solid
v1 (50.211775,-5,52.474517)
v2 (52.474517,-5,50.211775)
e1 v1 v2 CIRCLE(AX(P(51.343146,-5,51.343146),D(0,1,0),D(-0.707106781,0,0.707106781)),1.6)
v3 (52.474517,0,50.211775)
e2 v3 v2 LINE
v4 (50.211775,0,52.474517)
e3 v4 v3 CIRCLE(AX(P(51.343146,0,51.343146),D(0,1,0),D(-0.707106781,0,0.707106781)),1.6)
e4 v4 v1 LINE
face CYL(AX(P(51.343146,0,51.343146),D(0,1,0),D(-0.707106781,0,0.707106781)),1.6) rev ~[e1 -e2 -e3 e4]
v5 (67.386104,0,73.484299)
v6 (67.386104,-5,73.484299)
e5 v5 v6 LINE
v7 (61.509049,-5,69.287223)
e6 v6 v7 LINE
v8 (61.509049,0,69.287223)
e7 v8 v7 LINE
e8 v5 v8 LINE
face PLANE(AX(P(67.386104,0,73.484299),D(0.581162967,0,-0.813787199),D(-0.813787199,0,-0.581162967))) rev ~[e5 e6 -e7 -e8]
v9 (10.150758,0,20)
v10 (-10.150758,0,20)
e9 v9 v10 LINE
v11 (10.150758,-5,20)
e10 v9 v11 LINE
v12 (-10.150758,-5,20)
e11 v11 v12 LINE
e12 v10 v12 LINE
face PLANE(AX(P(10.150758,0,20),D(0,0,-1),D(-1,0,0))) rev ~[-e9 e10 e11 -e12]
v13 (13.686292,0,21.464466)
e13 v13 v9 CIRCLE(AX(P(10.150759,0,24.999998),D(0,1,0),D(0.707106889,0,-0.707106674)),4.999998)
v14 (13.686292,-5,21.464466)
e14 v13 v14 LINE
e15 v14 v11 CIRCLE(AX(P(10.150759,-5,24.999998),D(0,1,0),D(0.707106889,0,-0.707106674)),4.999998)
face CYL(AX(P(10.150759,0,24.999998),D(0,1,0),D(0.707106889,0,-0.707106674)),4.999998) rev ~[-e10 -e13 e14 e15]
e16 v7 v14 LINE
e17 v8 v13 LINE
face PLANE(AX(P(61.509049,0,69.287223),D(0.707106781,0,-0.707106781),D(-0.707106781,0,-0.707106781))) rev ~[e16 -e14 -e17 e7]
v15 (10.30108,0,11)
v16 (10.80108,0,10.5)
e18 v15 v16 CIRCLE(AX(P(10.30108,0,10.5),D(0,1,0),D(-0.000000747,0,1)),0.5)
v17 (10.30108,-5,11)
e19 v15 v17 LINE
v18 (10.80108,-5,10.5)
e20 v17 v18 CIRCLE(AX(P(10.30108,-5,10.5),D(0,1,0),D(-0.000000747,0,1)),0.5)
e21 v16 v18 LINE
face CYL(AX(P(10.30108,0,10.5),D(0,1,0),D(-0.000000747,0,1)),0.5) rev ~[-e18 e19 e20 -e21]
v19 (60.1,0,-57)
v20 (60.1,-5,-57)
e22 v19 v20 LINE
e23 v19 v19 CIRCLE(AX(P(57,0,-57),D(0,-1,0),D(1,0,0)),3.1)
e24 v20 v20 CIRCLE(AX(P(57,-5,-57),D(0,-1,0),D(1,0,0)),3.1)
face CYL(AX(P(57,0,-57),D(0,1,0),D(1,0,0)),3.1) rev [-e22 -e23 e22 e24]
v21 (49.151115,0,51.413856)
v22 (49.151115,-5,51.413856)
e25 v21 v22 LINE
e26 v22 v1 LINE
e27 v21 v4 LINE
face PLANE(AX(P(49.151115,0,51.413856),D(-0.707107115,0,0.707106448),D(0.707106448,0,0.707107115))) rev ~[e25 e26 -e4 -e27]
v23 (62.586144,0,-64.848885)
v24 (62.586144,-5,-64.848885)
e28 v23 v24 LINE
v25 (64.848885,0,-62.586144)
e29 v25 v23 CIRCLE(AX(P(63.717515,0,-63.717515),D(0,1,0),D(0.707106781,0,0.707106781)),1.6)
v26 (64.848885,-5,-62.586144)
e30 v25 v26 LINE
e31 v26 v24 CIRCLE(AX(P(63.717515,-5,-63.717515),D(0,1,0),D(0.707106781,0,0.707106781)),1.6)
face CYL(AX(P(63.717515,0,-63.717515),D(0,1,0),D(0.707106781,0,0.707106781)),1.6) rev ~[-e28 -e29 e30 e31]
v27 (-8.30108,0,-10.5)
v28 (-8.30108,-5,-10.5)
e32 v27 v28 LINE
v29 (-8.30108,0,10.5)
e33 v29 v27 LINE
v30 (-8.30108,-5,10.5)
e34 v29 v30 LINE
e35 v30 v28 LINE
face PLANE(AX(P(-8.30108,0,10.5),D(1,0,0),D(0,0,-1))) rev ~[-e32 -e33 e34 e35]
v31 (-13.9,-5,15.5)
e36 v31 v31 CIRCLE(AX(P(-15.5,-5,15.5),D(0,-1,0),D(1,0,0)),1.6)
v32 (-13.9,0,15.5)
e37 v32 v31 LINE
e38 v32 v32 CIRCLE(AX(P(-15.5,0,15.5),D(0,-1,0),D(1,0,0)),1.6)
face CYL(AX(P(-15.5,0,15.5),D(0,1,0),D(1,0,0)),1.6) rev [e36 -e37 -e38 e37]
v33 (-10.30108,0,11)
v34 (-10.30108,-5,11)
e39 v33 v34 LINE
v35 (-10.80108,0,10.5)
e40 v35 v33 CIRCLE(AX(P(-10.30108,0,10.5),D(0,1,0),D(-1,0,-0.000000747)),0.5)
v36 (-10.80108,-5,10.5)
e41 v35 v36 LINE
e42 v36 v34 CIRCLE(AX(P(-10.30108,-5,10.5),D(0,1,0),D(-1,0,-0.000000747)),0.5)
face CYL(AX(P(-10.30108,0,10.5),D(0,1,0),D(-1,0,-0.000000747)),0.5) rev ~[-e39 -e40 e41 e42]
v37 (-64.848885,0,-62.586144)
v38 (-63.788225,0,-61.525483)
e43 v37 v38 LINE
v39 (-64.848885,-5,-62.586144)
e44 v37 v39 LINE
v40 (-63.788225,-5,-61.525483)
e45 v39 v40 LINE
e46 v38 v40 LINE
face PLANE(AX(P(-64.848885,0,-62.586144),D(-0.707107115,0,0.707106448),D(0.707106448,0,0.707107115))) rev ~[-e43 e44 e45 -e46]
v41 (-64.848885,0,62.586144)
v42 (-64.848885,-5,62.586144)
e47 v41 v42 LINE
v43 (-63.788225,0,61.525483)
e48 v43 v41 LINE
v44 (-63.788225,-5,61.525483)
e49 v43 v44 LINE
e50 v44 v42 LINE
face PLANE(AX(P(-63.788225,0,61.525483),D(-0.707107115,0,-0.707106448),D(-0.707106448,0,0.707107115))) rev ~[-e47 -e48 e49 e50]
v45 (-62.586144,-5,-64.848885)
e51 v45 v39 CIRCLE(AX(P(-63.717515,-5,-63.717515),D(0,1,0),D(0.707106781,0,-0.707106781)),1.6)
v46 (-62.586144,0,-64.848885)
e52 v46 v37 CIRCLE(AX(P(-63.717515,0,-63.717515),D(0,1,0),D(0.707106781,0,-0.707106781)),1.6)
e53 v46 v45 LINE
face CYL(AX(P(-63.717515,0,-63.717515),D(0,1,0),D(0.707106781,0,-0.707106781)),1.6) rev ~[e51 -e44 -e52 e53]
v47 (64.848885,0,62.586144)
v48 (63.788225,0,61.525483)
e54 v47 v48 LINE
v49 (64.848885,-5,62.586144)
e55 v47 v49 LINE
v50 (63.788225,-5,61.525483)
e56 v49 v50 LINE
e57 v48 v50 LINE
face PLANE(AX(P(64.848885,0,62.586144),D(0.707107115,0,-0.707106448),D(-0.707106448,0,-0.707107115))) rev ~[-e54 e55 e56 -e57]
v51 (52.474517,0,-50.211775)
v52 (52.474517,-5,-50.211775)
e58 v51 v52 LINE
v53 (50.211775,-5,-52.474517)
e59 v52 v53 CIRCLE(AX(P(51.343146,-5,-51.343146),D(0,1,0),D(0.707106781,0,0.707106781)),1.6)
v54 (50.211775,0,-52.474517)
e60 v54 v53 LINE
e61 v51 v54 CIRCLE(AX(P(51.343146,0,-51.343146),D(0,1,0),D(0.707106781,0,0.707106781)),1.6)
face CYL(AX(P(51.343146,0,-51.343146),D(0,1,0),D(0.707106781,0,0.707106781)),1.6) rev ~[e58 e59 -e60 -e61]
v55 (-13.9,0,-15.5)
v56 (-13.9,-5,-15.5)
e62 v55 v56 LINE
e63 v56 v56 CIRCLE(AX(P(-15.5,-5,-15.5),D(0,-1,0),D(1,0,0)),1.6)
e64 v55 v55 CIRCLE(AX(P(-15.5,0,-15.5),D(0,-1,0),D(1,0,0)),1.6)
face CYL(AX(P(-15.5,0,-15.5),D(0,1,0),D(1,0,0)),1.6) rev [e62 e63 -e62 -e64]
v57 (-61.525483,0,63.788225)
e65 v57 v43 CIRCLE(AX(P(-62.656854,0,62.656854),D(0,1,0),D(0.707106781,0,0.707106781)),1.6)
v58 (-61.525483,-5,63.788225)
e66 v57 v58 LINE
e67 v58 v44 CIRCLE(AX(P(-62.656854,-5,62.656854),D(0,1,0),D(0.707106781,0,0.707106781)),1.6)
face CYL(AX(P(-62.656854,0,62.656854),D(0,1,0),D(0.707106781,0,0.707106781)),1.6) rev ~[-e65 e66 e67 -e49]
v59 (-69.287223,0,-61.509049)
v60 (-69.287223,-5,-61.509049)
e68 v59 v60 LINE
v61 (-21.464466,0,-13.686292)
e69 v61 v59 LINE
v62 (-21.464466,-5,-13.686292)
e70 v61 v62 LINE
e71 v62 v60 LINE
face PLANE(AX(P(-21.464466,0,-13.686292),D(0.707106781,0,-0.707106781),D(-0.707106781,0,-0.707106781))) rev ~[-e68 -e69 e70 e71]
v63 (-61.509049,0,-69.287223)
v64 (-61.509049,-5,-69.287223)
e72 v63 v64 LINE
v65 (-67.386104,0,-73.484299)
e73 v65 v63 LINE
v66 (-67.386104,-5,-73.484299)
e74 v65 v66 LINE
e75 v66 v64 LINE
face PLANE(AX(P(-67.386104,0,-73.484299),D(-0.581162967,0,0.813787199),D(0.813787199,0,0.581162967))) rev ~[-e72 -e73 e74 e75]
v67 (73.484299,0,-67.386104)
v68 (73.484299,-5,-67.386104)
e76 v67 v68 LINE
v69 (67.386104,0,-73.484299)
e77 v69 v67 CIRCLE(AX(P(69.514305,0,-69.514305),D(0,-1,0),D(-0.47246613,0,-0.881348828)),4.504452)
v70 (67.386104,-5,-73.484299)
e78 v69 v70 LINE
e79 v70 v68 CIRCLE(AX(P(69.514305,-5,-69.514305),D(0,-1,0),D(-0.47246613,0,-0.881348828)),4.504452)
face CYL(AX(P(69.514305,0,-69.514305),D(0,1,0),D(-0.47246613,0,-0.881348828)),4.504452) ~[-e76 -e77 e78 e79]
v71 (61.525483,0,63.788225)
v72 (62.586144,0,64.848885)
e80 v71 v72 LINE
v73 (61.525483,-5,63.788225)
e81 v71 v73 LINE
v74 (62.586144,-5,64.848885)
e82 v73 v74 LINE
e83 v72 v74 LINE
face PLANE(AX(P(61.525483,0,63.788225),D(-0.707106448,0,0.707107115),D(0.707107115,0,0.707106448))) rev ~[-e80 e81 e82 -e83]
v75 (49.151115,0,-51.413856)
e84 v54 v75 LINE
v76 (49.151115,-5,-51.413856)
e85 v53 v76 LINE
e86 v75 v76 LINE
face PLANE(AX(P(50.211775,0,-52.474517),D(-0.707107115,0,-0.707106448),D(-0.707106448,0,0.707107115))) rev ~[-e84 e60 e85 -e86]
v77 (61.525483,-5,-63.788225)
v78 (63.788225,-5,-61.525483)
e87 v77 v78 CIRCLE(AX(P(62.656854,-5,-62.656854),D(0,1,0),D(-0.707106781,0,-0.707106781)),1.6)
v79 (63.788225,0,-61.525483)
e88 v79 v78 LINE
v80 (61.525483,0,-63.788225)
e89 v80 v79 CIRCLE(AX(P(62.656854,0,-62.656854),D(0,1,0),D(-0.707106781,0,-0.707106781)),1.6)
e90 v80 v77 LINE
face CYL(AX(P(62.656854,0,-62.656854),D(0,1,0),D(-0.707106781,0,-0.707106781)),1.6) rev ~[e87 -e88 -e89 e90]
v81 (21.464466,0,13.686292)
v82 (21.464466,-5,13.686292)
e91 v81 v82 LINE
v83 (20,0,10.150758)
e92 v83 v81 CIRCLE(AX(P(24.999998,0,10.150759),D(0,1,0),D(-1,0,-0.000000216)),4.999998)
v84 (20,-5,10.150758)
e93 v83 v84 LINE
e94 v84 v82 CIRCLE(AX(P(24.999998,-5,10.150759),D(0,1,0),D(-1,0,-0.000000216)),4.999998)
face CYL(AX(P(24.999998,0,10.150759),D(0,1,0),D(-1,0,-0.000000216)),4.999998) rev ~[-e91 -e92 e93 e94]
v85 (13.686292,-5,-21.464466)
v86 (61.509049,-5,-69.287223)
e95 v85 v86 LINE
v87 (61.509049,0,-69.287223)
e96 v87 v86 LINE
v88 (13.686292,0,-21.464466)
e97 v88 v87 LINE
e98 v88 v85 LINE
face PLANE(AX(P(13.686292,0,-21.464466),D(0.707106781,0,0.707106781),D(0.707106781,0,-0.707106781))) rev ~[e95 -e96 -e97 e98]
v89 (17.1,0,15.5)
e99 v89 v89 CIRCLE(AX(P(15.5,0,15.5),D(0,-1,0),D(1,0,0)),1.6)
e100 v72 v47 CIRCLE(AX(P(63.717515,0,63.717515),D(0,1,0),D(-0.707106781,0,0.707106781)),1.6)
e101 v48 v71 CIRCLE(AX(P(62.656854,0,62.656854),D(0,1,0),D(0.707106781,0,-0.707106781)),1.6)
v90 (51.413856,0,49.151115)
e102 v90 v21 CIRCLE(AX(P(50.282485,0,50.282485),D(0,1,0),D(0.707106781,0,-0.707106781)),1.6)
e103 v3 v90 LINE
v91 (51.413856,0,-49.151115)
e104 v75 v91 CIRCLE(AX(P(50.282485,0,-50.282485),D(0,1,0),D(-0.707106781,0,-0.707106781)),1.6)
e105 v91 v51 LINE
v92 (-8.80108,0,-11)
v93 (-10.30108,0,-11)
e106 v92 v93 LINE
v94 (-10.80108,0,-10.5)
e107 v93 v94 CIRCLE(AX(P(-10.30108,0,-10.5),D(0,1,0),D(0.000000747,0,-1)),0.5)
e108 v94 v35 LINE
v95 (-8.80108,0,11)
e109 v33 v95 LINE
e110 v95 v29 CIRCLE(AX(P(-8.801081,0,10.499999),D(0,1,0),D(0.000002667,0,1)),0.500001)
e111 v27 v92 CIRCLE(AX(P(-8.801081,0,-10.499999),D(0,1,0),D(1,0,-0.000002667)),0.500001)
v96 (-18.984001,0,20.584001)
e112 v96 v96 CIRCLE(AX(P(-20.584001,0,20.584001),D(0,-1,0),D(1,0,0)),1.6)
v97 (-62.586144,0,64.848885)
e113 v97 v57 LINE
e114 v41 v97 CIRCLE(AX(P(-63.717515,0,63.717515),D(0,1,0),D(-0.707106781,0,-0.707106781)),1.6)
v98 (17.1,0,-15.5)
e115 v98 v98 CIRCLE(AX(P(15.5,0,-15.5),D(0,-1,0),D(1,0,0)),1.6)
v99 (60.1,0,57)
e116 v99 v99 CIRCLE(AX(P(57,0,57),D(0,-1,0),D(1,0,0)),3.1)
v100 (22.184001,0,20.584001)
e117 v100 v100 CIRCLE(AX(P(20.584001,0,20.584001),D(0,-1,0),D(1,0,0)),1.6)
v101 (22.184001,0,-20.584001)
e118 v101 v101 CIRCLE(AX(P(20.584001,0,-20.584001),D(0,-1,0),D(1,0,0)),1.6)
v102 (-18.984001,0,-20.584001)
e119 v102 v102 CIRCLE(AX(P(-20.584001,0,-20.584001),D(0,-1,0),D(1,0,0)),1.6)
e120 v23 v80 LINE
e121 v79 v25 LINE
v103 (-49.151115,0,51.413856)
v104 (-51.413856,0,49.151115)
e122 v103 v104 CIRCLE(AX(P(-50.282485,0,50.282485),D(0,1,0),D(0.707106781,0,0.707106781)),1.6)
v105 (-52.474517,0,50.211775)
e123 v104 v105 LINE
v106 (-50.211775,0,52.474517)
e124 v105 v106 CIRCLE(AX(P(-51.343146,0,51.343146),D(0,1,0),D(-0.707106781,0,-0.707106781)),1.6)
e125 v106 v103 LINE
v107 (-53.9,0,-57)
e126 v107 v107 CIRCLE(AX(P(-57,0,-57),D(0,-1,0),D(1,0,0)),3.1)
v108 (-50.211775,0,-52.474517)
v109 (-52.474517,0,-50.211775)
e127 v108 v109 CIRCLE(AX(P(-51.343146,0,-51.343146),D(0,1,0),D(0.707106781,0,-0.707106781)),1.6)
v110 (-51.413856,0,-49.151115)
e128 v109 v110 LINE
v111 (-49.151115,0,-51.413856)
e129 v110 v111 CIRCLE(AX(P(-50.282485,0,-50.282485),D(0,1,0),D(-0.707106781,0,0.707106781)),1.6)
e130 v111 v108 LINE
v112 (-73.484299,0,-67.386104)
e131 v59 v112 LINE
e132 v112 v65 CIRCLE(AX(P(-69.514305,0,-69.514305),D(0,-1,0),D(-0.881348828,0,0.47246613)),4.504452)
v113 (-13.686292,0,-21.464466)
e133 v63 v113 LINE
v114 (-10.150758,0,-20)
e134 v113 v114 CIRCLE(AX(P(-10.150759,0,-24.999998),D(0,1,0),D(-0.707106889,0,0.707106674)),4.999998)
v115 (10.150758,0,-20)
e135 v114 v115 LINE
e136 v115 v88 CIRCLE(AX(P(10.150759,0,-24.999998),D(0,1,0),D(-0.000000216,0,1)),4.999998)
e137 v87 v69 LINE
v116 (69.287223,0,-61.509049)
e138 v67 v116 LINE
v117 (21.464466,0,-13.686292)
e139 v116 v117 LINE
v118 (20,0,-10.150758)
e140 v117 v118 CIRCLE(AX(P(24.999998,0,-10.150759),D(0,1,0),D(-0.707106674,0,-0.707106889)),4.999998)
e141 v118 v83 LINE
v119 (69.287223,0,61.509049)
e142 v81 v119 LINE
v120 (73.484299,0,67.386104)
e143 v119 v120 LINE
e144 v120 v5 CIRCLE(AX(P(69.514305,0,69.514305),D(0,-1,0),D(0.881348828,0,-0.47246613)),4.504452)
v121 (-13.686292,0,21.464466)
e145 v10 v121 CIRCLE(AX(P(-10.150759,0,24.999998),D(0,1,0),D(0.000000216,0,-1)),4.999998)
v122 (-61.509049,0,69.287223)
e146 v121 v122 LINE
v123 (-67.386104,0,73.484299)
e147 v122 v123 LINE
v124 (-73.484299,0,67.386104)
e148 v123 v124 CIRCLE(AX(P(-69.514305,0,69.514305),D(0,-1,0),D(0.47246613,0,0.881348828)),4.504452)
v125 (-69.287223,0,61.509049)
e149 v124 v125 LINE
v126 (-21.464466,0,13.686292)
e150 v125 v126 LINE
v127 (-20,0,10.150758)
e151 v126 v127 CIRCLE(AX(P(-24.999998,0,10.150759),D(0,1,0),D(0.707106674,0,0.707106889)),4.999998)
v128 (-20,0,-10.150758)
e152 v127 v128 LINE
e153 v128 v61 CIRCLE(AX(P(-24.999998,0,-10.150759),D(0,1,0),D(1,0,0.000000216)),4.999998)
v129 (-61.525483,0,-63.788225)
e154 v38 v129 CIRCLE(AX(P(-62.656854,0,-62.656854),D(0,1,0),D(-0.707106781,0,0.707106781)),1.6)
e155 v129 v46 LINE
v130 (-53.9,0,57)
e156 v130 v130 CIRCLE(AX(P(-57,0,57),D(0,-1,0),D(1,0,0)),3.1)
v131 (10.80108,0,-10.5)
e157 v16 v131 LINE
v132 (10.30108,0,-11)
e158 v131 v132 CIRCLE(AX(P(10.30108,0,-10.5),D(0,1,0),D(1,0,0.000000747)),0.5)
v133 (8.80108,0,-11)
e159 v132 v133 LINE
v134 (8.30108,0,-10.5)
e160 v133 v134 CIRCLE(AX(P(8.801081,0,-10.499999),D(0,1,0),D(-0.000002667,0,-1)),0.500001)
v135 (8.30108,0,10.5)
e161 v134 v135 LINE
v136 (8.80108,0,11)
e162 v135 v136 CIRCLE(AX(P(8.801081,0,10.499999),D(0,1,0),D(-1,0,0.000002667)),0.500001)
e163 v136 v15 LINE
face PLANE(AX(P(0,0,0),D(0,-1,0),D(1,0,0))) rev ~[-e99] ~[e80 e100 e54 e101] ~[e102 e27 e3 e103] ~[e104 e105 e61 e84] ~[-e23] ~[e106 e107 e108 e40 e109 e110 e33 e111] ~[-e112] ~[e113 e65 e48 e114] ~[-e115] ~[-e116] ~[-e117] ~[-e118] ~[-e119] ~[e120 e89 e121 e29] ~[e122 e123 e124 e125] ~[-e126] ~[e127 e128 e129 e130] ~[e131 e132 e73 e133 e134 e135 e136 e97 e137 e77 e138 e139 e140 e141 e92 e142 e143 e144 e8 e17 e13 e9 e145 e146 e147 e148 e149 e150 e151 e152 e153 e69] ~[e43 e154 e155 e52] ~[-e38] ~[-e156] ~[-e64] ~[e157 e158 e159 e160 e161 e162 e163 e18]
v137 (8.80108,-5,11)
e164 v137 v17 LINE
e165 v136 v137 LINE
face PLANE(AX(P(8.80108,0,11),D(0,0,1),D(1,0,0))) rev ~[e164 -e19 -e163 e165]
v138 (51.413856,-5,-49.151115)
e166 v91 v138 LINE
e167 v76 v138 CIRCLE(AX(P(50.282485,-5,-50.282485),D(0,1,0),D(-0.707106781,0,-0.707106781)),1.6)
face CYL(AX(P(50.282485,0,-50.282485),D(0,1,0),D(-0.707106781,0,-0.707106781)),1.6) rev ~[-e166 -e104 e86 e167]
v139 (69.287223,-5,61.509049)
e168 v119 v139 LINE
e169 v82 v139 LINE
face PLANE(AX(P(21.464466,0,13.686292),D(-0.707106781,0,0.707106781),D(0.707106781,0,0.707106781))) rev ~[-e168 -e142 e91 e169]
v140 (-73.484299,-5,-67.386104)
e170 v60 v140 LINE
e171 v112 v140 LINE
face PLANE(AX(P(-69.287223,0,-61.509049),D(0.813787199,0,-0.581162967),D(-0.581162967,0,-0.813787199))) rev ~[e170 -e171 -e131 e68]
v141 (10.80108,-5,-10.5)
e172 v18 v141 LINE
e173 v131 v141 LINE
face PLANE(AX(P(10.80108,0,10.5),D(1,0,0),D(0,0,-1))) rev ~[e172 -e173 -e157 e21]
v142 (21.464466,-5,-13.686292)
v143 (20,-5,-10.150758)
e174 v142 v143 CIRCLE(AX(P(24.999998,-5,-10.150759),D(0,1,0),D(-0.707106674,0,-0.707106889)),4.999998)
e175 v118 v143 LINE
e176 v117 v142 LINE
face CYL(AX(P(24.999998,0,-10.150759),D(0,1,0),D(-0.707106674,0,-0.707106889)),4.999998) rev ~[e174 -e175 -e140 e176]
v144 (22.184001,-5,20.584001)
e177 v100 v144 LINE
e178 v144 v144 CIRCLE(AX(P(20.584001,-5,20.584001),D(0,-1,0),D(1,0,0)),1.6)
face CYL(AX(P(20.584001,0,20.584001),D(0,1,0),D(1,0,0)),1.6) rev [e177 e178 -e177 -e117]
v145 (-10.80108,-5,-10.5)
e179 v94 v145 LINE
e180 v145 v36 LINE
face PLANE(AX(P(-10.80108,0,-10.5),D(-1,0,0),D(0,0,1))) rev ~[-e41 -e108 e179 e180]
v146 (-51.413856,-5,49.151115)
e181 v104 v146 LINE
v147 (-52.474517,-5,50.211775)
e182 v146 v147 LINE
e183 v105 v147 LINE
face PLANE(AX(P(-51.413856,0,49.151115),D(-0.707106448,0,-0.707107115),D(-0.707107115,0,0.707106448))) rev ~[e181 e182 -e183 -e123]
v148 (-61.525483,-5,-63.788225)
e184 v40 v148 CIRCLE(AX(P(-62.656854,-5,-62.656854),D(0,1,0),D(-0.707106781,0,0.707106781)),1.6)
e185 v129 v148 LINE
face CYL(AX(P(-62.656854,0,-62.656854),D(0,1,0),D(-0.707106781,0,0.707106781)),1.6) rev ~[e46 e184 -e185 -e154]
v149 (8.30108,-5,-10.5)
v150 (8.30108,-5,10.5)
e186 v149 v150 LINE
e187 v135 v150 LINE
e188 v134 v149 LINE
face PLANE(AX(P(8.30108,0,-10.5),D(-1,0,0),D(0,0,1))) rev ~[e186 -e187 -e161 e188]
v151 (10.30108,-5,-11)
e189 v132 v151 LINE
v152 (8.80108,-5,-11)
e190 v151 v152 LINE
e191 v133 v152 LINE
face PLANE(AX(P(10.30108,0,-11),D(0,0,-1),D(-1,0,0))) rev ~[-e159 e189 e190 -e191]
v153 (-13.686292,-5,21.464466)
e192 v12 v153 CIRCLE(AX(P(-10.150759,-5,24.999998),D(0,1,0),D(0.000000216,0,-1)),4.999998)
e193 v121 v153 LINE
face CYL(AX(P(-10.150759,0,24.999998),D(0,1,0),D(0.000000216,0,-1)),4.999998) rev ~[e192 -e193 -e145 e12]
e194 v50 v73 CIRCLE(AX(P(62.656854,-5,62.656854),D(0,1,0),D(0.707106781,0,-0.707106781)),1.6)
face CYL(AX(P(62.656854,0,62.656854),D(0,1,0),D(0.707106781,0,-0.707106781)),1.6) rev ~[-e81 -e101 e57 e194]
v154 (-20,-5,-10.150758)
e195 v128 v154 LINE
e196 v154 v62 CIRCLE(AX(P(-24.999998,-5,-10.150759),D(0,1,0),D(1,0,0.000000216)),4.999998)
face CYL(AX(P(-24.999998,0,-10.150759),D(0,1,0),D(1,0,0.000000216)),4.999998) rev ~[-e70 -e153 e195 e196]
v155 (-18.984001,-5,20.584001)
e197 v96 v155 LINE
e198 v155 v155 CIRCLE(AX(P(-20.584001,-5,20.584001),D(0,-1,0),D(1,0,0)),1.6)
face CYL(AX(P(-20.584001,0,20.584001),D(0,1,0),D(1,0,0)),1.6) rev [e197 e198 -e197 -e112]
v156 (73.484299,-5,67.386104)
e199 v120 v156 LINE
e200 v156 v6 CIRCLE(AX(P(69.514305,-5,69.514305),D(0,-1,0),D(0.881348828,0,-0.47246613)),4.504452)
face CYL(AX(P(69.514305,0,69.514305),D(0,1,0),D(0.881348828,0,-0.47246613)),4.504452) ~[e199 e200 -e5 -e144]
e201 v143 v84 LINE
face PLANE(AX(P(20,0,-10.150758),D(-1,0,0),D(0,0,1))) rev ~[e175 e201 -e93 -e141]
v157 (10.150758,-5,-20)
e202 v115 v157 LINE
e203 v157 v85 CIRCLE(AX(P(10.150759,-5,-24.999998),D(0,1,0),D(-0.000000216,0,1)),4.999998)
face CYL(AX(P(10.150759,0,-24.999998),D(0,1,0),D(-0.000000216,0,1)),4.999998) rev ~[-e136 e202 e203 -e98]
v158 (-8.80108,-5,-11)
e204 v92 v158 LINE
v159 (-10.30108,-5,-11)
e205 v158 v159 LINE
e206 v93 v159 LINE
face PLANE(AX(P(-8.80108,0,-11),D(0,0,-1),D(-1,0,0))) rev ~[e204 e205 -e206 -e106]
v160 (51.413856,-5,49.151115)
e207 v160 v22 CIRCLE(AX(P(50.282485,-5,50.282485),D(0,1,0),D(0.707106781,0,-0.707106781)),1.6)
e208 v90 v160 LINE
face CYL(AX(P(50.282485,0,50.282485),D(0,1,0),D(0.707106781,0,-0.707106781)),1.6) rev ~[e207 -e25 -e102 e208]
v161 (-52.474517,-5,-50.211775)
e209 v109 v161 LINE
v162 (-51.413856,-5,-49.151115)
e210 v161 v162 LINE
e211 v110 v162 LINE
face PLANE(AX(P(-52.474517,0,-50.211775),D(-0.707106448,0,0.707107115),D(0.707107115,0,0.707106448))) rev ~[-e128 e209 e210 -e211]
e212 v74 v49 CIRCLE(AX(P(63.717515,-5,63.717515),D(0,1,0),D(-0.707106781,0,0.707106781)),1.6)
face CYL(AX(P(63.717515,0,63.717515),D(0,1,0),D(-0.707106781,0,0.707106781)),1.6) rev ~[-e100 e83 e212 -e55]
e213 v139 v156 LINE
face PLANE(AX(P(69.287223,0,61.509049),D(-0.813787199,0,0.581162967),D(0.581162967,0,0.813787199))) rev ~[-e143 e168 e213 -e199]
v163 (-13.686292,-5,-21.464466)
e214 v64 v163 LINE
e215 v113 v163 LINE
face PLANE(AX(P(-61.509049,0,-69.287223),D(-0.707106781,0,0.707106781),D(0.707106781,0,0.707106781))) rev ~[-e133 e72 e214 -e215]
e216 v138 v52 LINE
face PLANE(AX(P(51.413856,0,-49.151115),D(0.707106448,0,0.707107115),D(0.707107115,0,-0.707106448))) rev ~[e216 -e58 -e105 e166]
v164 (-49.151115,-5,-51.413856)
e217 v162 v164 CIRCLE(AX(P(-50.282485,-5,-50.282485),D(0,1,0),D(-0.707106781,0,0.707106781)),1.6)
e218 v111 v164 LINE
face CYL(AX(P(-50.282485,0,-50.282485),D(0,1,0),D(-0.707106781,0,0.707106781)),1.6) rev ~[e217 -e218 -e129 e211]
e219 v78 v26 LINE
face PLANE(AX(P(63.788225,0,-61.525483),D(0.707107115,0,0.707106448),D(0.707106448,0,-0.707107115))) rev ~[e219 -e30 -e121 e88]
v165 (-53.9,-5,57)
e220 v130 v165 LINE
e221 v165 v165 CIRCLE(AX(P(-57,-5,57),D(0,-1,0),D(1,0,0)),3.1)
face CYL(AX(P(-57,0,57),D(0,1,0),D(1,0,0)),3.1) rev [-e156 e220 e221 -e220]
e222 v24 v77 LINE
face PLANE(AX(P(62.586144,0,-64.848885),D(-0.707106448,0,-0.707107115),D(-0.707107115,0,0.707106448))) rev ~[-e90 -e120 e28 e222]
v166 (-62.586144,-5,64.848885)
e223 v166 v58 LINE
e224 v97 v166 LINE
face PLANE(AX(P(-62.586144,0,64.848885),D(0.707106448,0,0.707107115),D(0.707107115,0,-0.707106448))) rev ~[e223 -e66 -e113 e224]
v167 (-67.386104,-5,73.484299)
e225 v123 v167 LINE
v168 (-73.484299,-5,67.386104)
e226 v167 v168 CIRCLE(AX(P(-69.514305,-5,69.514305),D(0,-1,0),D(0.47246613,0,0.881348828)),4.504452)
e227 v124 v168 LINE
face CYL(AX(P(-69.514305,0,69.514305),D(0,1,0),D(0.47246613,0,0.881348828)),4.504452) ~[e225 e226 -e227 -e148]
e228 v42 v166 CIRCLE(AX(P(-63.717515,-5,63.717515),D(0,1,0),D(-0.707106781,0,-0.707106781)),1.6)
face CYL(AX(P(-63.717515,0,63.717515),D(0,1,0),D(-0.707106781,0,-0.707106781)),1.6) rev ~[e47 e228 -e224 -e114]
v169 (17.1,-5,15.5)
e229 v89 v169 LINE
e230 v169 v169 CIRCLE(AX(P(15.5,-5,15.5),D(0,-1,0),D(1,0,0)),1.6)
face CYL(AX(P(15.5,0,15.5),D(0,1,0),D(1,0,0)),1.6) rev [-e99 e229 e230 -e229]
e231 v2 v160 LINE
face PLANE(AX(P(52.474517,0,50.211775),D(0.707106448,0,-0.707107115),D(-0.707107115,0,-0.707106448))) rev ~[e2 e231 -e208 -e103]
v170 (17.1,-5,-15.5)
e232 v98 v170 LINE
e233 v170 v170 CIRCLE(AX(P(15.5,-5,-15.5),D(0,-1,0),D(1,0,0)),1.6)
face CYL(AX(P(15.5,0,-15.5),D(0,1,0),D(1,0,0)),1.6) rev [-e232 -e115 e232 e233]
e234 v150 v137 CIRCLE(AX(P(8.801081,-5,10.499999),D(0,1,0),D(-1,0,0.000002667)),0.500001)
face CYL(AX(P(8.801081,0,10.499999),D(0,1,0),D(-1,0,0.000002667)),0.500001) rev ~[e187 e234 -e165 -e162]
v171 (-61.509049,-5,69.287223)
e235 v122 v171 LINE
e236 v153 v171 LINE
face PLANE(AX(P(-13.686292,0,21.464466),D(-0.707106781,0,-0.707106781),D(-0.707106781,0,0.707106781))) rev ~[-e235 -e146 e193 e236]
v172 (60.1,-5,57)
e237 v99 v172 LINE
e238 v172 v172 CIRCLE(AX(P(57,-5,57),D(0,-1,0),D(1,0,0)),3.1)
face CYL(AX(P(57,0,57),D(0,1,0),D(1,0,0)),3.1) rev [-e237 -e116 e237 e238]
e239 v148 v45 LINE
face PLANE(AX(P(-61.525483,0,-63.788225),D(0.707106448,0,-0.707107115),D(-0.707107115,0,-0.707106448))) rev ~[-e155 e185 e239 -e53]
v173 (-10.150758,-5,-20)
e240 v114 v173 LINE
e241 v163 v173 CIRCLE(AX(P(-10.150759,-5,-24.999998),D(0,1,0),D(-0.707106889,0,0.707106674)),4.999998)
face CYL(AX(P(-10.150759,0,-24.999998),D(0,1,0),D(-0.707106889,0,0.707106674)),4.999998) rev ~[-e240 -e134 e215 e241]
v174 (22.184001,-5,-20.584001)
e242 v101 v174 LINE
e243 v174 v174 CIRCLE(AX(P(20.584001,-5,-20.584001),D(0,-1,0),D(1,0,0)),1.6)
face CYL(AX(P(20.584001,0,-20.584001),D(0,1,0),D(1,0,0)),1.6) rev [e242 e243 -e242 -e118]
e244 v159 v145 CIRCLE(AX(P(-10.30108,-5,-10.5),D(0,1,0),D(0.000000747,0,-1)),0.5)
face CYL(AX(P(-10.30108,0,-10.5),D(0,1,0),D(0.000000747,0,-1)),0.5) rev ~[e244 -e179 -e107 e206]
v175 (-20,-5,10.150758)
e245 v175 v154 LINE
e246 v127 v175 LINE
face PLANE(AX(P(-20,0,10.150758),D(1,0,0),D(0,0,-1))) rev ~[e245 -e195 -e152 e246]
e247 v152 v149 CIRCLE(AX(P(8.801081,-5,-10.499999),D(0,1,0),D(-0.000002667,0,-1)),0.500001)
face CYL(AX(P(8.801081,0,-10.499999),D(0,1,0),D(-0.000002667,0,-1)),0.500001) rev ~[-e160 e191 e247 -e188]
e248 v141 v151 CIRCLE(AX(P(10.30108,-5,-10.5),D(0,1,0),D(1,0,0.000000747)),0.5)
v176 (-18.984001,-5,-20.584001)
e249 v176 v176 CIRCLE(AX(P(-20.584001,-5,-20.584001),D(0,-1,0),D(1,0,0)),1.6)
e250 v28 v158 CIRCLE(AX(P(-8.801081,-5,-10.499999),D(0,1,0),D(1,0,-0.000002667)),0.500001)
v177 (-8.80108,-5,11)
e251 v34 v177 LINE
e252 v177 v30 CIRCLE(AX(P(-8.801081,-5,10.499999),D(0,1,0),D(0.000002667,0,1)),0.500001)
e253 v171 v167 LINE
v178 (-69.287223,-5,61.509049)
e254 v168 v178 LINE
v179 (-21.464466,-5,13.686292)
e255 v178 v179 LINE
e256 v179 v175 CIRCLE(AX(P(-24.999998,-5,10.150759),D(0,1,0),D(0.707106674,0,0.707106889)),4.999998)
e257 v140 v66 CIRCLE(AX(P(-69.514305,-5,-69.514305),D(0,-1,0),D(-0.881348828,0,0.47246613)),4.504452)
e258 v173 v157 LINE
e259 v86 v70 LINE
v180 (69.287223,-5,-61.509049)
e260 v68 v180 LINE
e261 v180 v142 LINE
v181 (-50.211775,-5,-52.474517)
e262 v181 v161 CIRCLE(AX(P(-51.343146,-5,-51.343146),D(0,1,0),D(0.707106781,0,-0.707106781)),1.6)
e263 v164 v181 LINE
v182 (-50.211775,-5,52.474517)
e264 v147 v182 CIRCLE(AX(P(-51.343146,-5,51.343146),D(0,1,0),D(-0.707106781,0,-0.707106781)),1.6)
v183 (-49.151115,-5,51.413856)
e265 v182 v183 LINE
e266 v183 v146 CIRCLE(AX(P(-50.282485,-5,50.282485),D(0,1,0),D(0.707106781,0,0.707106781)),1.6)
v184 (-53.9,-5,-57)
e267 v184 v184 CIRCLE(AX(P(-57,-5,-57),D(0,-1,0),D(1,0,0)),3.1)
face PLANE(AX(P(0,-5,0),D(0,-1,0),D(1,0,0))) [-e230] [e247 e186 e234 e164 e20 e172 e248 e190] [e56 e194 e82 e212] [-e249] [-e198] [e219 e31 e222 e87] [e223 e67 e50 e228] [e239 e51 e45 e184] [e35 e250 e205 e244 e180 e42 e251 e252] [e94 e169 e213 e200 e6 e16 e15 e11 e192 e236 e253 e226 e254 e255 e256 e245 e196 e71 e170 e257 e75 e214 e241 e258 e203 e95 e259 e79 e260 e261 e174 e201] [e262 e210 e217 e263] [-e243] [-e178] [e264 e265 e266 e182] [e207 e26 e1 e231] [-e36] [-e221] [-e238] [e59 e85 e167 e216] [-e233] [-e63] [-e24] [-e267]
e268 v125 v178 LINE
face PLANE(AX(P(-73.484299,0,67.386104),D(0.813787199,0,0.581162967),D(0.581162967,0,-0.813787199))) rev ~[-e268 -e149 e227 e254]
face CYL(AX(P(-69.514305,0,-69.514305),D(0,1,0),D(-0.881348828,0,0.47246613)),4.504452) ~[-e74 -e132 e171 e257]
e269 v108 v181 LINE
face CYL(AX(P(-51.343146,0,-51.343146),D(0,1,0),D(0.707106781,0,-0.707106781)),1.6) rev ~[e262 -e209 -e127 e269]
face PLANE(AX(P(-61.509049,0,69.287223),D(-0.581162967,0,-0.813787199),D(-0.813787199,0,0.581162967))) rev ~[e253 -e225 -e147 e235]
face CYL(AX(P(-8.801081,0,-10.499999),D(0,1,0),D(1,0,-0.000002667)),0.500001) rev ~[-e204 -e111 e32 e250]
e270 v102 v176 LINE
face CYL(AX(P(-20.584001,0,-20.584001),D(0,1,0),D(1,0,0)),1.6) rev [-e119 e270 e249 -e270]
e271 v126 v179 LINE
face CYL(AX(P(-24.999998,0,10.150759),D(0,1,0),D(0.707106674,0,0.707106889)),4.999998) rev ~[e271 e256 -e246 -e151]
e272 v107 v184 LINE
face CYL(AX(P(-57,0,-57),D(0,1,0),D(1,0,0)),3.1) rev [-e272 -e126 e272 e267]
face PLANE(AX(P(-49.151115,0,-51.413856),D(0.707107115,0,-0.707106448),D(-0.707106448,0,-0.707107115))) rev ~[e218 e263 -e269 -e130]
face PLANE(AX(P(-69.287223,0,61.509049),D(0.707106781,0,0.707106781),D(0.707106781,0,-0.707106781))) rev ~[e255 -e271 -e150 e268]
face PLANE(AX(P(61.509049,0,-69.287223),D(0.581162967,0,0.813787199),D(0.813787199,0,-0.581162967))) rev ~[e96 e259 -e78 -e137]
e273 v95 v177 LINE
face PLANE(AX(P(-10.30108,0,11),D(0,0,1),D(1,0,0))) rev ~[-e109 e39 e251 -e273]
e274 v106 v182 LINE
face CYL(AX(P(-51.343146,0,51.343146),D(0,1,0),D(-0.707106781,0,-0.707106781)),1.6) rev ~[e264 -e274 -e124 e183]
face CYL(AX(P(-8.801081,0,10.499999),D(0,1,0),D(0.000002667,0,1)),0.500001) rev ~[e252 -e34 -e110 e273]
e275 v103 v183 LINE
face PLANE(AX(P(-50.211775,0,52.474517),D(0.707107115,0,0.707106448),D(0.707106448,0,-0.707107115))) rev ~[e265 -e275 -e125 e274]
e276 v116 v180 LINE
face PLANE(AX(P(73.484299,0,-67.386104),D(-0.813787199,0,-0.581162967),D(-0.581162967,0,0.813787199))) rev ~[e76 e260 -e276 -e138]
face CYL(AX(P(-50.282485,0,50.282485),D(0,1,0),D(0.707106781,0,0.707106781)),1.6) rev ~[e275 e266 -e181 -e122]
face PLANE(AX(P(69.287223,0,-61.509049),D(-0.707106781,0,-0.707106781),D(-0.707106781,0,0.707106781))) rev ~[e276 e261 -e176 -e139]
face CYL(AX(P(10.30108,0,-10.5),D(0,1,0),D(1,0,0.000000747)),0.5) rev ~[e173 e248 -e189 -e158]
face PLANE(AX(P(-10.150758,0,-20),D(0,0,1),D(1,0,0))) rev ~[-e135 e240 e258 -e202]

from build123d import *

# Parameters (mm, degrees)
F0_R     = 3.1
F0_R_2   = 1.6
F1_DEPTH = 5


with BuildPart() as f1:
    # F0 (on Front) → F1 (new body)
    with BuildSketch(Plane.XZ):
        with BuildLine():
            Line((10.150758, 20), (-10.150758, 20))
            ThreePointArc((-10.150758, 20), (-12.064175, 20.380602), (-13.686292, 21.464466))
            Line((-13.686292, 21.464466), (-61.509049, 69.287223))
            Line((-61.509049, 69.287223), (-67.386104, 73.484299))
            ThreePointArc((-67.386104, 73.484299), (-72.699434, 72.699434), (-73.484299, 67.386104))
            Line((-73.484299, 67.386104), (-69.287223, 61.509049))
            Line((-69.287223, 61.509049), (-21.464466, 13.686292))
            ThreePointArc((-21.464466, 13.686292), (-20.380602, 12.064175), (-20, 10.150758))
            Line((-20, 10.150758), (-20, -10.150758))
            ThreePointArc((-20, -10.150758), (-20.380602, -12.064175), (-21.464466, -13.686292))
            Line((-21.464466, -13.686292), (-69.287223, -61.509049))
            Line((-69.287223, -61.509049), (-73.484299, -67.386104))
            ThreePointArc((-73.484299, -67.386104), (-72.699434, -72.699434), (-67.386104, -73.484299))
            Line((-67.386104, -73.484299), (-61.509049, -69.287223))
            Line((-61.509049, -69.287223), (-13.686292, -21.464466))
            ThreePointArc((-13.686292, -21.464466), (-12.064175, -20.380602), (-10.150758, -20))
            Line((-10.150758, -20), (10.150758, -20))
            ThreePointArc((10.150758, -20), (12.064175, -20.380602), (13.686292, -21.464466))
            Line((13.686292, -21.464466), (61.509049, -69.287223))
            Line((61.509049, -69.287223), (67.386104, -73.484299))
            ThreePointArc((67.386104, -73.484299), (72.699434, -72.699434), (73.484299, -67.386104))
            Line((73.484299, -67.386104), (69.287223, -61.509049))
            Line((69.287223, -61.509049), (21.464466, -13.686292))
            ThreePointArc((21.464466, -13.686292), (20.380602, -12.064175), (20, -10.150758))
            Line((20, -10.150758), (20, 10.150758))
            ThreePointArc((20, 10.150758), (20.380602, 12.064175), (21.464466, 13.686292))
            Line((21.464466, 13.686292), (69.287223, 61.509049))
            Line((69.287223, 61.509049), (73.484299, 67.386104))
            ThreePointArc((73.484299, 67.386104), (72.699434, 72.699434), (67.386104, 73.484299))
            Line((67.386104, 73.484299), (61.509049, 69.287223))
            Line((61.509049, 69.287223), (13.686292, 21.464466))
            ThreePointArc((13.686292, 21.464466), (12.064175, 20.380602), (10.150758, 20))
        make_face()
        with BuildLine():
            ThreePointArc((-62.586144, -64.848885), (-64.848885, -64.848885), (-64.848885, -62.586144))
            Line((-64.848885, -62.586144), (-63.788225, -61.525483))
            ThreePointArc((-63.788225, -61.525483), (-61.525483, -61.525483), (-61.525483, -63.788225))
            Line((-61.525483, -63.788225), (-62.586144, -64.848885))
        make_face(mode=Mode.SUBTRACT)
        with Locations((-57, -57)):
            Circle(F0_R, mode=Mode.SUBTRACT)
        with BuildLine():
            ThreePointArc((-51.413856, -49.151115), (-49.151115, -49.151115), (-49.151115, -51.413856))
            Line((-49.151115, -51.413856), (-50.211775, -52.474517))
            ThreePointArc((-50.211775, -52.474517), (-52.474517, -52.474517), (-52.474517, -50.211775))
            Line((-52.474517, -50.211775), (-51.413856, -49.151115))
        make_face(mode=Mode.SUBTRACT)
        with Locations((-20.584001, -20.584001)):
            Circle(F0_R_2, mode=Mode.SUBTRACT)
        with Locations((-15.5, -15.5)):
            Circle(F0_R_2, mode=Mode.SUBTRACT)
        with BuildLine():
            ThreePointArc((64.848885, -62.586144), (64.848885, -64.848885), (62.586144, -64.848885))
            Line((62.586144, -64.848885), (61.525483, -63.788225))
            ThreePointArc((61.525483, -63.788225), (61.525483, -61.525483), (63.788225, -61.525483))
            Line((63.788225, -61.525483), (64.848885, -62.586144))
        make_face(mode=Mode.SUBTRACT)
        with Locations((57, -57)):
            Circle(F0_R, mode=Mode.SUBTRACT)
        with BuildLine():
            ThreePointArc((49.151115, -51.413856), (49.151115, -49.151115), (51.413856, -49.151115))
            Line((51.413856, -49.151115), (52.474517, -50.211775))
            ThreePointArc((52.474517, -50.211775), (52.474517, -52.474517), (50.211775, -52.474517))
            Line((50.211775, -52.474517), (49.151115, -51.413856))
        make_face(mode=Mode.SUBTRACT)
        with Locations((20.584001, -20.584001)):
            Circle(F0_R_2, mode=Mode.SUBTRACT)
        with Locations((15.5, -15.5)):
            Circle(F0_R_2, mode=Mode.SUBTRACT)
        with BuildLine():
            ThreePointArc((-10.80108, 10.5), (-10.654634, 10.853553), (-10.30108, 11))
            Line((-10.30108, 11), (-8.80108, 11))
            ThreePointArc((-8.80108, 11), (-8.447527, 10.853553), (-8.30108, 10.5))
            Line((-8.30108, 10.5), (-8.30108, -10.5))
            ThreePointArc((-8.30108, -10.5), (-8.447527, -10.853553), (-8.80108, -11))
            Line((-8.80108, -11), (-10.30108, -11))
            ThreePointArc((-10.30108, -11), (-10.654634, -10.853553), (-10.80108, -10.5))
            Line((-10.80108, -10.5), (-10.80108, 10.5))
        make_face(mode=Mode.SUBTRACT)
        with Locations((-15.5, 15.5)):
            Circle(F0_R_2, mode=Mode.SUBTRACT)
        with Locations((-20.584001, 20.584001)):
            Circle(F0_R_2, mode=Mode.SUBTRACT)
        with BuildLine():
            Line((-50.211775, 52.474517), (-49.151115, 51.413856))
            ThreePointArc((-49.151115, 51.413856), (-49.151115, 49.151115), (-51.413856, 49.151115))
            Line((-51.413856, 49.151115), (-52.474517, 50.211775))
            ThreePointArc((-52.474517, 50.211775), (-52.474517, 52.474517), (-50.211775, 52.474517))
        make_face(mode=Mode.SUBTRACT)
        with Locations((-57, 57)):
            Circle(F0_R, mode=Mode.SUBTRACT)
        with BuildLine():
            ThreePointArc((-64.848885, 62.586144), (-64.848885, 64.848885), (-62.586144, 64.848885))
            Line((-62.586144, 64.848885), (-61.525483, 63.788225))
            ThreePointArc((-61.525483, 63.788225), (-61.525483, 61.525483), (-63.788225, 61.525483))
            Line((-63.788225, 61.525483), (-64.848885, 62.586144))
        make_face(mode=Mode.SUBTRACT)
        with BuildLine():
            Line((10.80108, 10.5), (10.80108, -10.5))
            ThreePointArc((10.80108, -10.5), (10.654634, -10.853553), (10.30108, -11))
            Line((10.30108, -11), (8.80108, -11))
            ThreePointArc((8.80108, -11), (8.447527, -10.853553), (8.30108, -10.5))
            Line((8.30108, -10.5), (8.30108, 10.5))
            ThreePointArc((8.30108, 10.5), (8.447527, 10.853553), (8.80108, 11))
            Line((8.80108, 11), (10.30108, 11))
            ThreePointArc((10.30108, 11), (10.654634, 10.853553), (10.80108, 10.5))
        make_face(mode=Mode.SUBTRACT)
        with Locations((15.5, 15.5)):
            Circle(F0_R_2, mode=Mode.SUBTRACT)
        with Locations((20.584001, 20.584001)):
            Circle(F0_R_2, mode=Mode.SUBTRACT)
        with BuildLine():
            Line((52.474517, 50.211775), (51.413856, 49.151115))
            ThreePointArc((51.413856, 49.151115), (49.151115, 49.151115), (49.151115, 51.413856))
            Line((49.151115, 51.413856), (50.211775, 52.474517))
            ThreePointArc((50.211775, 52.474517), (52.474517, 52.474517), (52.474517, 50.211775))
        make_face(mode=Mode.SUBTRACT)
        with Locations((57, 57)):
            Circle(F0_R, mode=Mode.SUBTRACT)
        with BuildLine():
            ThreePointArc((62.586144, 64.848885), (64.848885, 64.848885), (64.848885, 62.586144))
            Line((64.848885, 62.586144), (63.788225, 61.525483))
            ThreePointArc((63.788225, 61.525483), (61.525483, 61.525483), (61.525483, 63.788225))
            Line((61.525483, 63.788225), (62.586144, 64.848885))
        make_face(mode=Mode.SUBTRACT)
    extrude(amount=F1_DEPTH)


solid = f1.part
